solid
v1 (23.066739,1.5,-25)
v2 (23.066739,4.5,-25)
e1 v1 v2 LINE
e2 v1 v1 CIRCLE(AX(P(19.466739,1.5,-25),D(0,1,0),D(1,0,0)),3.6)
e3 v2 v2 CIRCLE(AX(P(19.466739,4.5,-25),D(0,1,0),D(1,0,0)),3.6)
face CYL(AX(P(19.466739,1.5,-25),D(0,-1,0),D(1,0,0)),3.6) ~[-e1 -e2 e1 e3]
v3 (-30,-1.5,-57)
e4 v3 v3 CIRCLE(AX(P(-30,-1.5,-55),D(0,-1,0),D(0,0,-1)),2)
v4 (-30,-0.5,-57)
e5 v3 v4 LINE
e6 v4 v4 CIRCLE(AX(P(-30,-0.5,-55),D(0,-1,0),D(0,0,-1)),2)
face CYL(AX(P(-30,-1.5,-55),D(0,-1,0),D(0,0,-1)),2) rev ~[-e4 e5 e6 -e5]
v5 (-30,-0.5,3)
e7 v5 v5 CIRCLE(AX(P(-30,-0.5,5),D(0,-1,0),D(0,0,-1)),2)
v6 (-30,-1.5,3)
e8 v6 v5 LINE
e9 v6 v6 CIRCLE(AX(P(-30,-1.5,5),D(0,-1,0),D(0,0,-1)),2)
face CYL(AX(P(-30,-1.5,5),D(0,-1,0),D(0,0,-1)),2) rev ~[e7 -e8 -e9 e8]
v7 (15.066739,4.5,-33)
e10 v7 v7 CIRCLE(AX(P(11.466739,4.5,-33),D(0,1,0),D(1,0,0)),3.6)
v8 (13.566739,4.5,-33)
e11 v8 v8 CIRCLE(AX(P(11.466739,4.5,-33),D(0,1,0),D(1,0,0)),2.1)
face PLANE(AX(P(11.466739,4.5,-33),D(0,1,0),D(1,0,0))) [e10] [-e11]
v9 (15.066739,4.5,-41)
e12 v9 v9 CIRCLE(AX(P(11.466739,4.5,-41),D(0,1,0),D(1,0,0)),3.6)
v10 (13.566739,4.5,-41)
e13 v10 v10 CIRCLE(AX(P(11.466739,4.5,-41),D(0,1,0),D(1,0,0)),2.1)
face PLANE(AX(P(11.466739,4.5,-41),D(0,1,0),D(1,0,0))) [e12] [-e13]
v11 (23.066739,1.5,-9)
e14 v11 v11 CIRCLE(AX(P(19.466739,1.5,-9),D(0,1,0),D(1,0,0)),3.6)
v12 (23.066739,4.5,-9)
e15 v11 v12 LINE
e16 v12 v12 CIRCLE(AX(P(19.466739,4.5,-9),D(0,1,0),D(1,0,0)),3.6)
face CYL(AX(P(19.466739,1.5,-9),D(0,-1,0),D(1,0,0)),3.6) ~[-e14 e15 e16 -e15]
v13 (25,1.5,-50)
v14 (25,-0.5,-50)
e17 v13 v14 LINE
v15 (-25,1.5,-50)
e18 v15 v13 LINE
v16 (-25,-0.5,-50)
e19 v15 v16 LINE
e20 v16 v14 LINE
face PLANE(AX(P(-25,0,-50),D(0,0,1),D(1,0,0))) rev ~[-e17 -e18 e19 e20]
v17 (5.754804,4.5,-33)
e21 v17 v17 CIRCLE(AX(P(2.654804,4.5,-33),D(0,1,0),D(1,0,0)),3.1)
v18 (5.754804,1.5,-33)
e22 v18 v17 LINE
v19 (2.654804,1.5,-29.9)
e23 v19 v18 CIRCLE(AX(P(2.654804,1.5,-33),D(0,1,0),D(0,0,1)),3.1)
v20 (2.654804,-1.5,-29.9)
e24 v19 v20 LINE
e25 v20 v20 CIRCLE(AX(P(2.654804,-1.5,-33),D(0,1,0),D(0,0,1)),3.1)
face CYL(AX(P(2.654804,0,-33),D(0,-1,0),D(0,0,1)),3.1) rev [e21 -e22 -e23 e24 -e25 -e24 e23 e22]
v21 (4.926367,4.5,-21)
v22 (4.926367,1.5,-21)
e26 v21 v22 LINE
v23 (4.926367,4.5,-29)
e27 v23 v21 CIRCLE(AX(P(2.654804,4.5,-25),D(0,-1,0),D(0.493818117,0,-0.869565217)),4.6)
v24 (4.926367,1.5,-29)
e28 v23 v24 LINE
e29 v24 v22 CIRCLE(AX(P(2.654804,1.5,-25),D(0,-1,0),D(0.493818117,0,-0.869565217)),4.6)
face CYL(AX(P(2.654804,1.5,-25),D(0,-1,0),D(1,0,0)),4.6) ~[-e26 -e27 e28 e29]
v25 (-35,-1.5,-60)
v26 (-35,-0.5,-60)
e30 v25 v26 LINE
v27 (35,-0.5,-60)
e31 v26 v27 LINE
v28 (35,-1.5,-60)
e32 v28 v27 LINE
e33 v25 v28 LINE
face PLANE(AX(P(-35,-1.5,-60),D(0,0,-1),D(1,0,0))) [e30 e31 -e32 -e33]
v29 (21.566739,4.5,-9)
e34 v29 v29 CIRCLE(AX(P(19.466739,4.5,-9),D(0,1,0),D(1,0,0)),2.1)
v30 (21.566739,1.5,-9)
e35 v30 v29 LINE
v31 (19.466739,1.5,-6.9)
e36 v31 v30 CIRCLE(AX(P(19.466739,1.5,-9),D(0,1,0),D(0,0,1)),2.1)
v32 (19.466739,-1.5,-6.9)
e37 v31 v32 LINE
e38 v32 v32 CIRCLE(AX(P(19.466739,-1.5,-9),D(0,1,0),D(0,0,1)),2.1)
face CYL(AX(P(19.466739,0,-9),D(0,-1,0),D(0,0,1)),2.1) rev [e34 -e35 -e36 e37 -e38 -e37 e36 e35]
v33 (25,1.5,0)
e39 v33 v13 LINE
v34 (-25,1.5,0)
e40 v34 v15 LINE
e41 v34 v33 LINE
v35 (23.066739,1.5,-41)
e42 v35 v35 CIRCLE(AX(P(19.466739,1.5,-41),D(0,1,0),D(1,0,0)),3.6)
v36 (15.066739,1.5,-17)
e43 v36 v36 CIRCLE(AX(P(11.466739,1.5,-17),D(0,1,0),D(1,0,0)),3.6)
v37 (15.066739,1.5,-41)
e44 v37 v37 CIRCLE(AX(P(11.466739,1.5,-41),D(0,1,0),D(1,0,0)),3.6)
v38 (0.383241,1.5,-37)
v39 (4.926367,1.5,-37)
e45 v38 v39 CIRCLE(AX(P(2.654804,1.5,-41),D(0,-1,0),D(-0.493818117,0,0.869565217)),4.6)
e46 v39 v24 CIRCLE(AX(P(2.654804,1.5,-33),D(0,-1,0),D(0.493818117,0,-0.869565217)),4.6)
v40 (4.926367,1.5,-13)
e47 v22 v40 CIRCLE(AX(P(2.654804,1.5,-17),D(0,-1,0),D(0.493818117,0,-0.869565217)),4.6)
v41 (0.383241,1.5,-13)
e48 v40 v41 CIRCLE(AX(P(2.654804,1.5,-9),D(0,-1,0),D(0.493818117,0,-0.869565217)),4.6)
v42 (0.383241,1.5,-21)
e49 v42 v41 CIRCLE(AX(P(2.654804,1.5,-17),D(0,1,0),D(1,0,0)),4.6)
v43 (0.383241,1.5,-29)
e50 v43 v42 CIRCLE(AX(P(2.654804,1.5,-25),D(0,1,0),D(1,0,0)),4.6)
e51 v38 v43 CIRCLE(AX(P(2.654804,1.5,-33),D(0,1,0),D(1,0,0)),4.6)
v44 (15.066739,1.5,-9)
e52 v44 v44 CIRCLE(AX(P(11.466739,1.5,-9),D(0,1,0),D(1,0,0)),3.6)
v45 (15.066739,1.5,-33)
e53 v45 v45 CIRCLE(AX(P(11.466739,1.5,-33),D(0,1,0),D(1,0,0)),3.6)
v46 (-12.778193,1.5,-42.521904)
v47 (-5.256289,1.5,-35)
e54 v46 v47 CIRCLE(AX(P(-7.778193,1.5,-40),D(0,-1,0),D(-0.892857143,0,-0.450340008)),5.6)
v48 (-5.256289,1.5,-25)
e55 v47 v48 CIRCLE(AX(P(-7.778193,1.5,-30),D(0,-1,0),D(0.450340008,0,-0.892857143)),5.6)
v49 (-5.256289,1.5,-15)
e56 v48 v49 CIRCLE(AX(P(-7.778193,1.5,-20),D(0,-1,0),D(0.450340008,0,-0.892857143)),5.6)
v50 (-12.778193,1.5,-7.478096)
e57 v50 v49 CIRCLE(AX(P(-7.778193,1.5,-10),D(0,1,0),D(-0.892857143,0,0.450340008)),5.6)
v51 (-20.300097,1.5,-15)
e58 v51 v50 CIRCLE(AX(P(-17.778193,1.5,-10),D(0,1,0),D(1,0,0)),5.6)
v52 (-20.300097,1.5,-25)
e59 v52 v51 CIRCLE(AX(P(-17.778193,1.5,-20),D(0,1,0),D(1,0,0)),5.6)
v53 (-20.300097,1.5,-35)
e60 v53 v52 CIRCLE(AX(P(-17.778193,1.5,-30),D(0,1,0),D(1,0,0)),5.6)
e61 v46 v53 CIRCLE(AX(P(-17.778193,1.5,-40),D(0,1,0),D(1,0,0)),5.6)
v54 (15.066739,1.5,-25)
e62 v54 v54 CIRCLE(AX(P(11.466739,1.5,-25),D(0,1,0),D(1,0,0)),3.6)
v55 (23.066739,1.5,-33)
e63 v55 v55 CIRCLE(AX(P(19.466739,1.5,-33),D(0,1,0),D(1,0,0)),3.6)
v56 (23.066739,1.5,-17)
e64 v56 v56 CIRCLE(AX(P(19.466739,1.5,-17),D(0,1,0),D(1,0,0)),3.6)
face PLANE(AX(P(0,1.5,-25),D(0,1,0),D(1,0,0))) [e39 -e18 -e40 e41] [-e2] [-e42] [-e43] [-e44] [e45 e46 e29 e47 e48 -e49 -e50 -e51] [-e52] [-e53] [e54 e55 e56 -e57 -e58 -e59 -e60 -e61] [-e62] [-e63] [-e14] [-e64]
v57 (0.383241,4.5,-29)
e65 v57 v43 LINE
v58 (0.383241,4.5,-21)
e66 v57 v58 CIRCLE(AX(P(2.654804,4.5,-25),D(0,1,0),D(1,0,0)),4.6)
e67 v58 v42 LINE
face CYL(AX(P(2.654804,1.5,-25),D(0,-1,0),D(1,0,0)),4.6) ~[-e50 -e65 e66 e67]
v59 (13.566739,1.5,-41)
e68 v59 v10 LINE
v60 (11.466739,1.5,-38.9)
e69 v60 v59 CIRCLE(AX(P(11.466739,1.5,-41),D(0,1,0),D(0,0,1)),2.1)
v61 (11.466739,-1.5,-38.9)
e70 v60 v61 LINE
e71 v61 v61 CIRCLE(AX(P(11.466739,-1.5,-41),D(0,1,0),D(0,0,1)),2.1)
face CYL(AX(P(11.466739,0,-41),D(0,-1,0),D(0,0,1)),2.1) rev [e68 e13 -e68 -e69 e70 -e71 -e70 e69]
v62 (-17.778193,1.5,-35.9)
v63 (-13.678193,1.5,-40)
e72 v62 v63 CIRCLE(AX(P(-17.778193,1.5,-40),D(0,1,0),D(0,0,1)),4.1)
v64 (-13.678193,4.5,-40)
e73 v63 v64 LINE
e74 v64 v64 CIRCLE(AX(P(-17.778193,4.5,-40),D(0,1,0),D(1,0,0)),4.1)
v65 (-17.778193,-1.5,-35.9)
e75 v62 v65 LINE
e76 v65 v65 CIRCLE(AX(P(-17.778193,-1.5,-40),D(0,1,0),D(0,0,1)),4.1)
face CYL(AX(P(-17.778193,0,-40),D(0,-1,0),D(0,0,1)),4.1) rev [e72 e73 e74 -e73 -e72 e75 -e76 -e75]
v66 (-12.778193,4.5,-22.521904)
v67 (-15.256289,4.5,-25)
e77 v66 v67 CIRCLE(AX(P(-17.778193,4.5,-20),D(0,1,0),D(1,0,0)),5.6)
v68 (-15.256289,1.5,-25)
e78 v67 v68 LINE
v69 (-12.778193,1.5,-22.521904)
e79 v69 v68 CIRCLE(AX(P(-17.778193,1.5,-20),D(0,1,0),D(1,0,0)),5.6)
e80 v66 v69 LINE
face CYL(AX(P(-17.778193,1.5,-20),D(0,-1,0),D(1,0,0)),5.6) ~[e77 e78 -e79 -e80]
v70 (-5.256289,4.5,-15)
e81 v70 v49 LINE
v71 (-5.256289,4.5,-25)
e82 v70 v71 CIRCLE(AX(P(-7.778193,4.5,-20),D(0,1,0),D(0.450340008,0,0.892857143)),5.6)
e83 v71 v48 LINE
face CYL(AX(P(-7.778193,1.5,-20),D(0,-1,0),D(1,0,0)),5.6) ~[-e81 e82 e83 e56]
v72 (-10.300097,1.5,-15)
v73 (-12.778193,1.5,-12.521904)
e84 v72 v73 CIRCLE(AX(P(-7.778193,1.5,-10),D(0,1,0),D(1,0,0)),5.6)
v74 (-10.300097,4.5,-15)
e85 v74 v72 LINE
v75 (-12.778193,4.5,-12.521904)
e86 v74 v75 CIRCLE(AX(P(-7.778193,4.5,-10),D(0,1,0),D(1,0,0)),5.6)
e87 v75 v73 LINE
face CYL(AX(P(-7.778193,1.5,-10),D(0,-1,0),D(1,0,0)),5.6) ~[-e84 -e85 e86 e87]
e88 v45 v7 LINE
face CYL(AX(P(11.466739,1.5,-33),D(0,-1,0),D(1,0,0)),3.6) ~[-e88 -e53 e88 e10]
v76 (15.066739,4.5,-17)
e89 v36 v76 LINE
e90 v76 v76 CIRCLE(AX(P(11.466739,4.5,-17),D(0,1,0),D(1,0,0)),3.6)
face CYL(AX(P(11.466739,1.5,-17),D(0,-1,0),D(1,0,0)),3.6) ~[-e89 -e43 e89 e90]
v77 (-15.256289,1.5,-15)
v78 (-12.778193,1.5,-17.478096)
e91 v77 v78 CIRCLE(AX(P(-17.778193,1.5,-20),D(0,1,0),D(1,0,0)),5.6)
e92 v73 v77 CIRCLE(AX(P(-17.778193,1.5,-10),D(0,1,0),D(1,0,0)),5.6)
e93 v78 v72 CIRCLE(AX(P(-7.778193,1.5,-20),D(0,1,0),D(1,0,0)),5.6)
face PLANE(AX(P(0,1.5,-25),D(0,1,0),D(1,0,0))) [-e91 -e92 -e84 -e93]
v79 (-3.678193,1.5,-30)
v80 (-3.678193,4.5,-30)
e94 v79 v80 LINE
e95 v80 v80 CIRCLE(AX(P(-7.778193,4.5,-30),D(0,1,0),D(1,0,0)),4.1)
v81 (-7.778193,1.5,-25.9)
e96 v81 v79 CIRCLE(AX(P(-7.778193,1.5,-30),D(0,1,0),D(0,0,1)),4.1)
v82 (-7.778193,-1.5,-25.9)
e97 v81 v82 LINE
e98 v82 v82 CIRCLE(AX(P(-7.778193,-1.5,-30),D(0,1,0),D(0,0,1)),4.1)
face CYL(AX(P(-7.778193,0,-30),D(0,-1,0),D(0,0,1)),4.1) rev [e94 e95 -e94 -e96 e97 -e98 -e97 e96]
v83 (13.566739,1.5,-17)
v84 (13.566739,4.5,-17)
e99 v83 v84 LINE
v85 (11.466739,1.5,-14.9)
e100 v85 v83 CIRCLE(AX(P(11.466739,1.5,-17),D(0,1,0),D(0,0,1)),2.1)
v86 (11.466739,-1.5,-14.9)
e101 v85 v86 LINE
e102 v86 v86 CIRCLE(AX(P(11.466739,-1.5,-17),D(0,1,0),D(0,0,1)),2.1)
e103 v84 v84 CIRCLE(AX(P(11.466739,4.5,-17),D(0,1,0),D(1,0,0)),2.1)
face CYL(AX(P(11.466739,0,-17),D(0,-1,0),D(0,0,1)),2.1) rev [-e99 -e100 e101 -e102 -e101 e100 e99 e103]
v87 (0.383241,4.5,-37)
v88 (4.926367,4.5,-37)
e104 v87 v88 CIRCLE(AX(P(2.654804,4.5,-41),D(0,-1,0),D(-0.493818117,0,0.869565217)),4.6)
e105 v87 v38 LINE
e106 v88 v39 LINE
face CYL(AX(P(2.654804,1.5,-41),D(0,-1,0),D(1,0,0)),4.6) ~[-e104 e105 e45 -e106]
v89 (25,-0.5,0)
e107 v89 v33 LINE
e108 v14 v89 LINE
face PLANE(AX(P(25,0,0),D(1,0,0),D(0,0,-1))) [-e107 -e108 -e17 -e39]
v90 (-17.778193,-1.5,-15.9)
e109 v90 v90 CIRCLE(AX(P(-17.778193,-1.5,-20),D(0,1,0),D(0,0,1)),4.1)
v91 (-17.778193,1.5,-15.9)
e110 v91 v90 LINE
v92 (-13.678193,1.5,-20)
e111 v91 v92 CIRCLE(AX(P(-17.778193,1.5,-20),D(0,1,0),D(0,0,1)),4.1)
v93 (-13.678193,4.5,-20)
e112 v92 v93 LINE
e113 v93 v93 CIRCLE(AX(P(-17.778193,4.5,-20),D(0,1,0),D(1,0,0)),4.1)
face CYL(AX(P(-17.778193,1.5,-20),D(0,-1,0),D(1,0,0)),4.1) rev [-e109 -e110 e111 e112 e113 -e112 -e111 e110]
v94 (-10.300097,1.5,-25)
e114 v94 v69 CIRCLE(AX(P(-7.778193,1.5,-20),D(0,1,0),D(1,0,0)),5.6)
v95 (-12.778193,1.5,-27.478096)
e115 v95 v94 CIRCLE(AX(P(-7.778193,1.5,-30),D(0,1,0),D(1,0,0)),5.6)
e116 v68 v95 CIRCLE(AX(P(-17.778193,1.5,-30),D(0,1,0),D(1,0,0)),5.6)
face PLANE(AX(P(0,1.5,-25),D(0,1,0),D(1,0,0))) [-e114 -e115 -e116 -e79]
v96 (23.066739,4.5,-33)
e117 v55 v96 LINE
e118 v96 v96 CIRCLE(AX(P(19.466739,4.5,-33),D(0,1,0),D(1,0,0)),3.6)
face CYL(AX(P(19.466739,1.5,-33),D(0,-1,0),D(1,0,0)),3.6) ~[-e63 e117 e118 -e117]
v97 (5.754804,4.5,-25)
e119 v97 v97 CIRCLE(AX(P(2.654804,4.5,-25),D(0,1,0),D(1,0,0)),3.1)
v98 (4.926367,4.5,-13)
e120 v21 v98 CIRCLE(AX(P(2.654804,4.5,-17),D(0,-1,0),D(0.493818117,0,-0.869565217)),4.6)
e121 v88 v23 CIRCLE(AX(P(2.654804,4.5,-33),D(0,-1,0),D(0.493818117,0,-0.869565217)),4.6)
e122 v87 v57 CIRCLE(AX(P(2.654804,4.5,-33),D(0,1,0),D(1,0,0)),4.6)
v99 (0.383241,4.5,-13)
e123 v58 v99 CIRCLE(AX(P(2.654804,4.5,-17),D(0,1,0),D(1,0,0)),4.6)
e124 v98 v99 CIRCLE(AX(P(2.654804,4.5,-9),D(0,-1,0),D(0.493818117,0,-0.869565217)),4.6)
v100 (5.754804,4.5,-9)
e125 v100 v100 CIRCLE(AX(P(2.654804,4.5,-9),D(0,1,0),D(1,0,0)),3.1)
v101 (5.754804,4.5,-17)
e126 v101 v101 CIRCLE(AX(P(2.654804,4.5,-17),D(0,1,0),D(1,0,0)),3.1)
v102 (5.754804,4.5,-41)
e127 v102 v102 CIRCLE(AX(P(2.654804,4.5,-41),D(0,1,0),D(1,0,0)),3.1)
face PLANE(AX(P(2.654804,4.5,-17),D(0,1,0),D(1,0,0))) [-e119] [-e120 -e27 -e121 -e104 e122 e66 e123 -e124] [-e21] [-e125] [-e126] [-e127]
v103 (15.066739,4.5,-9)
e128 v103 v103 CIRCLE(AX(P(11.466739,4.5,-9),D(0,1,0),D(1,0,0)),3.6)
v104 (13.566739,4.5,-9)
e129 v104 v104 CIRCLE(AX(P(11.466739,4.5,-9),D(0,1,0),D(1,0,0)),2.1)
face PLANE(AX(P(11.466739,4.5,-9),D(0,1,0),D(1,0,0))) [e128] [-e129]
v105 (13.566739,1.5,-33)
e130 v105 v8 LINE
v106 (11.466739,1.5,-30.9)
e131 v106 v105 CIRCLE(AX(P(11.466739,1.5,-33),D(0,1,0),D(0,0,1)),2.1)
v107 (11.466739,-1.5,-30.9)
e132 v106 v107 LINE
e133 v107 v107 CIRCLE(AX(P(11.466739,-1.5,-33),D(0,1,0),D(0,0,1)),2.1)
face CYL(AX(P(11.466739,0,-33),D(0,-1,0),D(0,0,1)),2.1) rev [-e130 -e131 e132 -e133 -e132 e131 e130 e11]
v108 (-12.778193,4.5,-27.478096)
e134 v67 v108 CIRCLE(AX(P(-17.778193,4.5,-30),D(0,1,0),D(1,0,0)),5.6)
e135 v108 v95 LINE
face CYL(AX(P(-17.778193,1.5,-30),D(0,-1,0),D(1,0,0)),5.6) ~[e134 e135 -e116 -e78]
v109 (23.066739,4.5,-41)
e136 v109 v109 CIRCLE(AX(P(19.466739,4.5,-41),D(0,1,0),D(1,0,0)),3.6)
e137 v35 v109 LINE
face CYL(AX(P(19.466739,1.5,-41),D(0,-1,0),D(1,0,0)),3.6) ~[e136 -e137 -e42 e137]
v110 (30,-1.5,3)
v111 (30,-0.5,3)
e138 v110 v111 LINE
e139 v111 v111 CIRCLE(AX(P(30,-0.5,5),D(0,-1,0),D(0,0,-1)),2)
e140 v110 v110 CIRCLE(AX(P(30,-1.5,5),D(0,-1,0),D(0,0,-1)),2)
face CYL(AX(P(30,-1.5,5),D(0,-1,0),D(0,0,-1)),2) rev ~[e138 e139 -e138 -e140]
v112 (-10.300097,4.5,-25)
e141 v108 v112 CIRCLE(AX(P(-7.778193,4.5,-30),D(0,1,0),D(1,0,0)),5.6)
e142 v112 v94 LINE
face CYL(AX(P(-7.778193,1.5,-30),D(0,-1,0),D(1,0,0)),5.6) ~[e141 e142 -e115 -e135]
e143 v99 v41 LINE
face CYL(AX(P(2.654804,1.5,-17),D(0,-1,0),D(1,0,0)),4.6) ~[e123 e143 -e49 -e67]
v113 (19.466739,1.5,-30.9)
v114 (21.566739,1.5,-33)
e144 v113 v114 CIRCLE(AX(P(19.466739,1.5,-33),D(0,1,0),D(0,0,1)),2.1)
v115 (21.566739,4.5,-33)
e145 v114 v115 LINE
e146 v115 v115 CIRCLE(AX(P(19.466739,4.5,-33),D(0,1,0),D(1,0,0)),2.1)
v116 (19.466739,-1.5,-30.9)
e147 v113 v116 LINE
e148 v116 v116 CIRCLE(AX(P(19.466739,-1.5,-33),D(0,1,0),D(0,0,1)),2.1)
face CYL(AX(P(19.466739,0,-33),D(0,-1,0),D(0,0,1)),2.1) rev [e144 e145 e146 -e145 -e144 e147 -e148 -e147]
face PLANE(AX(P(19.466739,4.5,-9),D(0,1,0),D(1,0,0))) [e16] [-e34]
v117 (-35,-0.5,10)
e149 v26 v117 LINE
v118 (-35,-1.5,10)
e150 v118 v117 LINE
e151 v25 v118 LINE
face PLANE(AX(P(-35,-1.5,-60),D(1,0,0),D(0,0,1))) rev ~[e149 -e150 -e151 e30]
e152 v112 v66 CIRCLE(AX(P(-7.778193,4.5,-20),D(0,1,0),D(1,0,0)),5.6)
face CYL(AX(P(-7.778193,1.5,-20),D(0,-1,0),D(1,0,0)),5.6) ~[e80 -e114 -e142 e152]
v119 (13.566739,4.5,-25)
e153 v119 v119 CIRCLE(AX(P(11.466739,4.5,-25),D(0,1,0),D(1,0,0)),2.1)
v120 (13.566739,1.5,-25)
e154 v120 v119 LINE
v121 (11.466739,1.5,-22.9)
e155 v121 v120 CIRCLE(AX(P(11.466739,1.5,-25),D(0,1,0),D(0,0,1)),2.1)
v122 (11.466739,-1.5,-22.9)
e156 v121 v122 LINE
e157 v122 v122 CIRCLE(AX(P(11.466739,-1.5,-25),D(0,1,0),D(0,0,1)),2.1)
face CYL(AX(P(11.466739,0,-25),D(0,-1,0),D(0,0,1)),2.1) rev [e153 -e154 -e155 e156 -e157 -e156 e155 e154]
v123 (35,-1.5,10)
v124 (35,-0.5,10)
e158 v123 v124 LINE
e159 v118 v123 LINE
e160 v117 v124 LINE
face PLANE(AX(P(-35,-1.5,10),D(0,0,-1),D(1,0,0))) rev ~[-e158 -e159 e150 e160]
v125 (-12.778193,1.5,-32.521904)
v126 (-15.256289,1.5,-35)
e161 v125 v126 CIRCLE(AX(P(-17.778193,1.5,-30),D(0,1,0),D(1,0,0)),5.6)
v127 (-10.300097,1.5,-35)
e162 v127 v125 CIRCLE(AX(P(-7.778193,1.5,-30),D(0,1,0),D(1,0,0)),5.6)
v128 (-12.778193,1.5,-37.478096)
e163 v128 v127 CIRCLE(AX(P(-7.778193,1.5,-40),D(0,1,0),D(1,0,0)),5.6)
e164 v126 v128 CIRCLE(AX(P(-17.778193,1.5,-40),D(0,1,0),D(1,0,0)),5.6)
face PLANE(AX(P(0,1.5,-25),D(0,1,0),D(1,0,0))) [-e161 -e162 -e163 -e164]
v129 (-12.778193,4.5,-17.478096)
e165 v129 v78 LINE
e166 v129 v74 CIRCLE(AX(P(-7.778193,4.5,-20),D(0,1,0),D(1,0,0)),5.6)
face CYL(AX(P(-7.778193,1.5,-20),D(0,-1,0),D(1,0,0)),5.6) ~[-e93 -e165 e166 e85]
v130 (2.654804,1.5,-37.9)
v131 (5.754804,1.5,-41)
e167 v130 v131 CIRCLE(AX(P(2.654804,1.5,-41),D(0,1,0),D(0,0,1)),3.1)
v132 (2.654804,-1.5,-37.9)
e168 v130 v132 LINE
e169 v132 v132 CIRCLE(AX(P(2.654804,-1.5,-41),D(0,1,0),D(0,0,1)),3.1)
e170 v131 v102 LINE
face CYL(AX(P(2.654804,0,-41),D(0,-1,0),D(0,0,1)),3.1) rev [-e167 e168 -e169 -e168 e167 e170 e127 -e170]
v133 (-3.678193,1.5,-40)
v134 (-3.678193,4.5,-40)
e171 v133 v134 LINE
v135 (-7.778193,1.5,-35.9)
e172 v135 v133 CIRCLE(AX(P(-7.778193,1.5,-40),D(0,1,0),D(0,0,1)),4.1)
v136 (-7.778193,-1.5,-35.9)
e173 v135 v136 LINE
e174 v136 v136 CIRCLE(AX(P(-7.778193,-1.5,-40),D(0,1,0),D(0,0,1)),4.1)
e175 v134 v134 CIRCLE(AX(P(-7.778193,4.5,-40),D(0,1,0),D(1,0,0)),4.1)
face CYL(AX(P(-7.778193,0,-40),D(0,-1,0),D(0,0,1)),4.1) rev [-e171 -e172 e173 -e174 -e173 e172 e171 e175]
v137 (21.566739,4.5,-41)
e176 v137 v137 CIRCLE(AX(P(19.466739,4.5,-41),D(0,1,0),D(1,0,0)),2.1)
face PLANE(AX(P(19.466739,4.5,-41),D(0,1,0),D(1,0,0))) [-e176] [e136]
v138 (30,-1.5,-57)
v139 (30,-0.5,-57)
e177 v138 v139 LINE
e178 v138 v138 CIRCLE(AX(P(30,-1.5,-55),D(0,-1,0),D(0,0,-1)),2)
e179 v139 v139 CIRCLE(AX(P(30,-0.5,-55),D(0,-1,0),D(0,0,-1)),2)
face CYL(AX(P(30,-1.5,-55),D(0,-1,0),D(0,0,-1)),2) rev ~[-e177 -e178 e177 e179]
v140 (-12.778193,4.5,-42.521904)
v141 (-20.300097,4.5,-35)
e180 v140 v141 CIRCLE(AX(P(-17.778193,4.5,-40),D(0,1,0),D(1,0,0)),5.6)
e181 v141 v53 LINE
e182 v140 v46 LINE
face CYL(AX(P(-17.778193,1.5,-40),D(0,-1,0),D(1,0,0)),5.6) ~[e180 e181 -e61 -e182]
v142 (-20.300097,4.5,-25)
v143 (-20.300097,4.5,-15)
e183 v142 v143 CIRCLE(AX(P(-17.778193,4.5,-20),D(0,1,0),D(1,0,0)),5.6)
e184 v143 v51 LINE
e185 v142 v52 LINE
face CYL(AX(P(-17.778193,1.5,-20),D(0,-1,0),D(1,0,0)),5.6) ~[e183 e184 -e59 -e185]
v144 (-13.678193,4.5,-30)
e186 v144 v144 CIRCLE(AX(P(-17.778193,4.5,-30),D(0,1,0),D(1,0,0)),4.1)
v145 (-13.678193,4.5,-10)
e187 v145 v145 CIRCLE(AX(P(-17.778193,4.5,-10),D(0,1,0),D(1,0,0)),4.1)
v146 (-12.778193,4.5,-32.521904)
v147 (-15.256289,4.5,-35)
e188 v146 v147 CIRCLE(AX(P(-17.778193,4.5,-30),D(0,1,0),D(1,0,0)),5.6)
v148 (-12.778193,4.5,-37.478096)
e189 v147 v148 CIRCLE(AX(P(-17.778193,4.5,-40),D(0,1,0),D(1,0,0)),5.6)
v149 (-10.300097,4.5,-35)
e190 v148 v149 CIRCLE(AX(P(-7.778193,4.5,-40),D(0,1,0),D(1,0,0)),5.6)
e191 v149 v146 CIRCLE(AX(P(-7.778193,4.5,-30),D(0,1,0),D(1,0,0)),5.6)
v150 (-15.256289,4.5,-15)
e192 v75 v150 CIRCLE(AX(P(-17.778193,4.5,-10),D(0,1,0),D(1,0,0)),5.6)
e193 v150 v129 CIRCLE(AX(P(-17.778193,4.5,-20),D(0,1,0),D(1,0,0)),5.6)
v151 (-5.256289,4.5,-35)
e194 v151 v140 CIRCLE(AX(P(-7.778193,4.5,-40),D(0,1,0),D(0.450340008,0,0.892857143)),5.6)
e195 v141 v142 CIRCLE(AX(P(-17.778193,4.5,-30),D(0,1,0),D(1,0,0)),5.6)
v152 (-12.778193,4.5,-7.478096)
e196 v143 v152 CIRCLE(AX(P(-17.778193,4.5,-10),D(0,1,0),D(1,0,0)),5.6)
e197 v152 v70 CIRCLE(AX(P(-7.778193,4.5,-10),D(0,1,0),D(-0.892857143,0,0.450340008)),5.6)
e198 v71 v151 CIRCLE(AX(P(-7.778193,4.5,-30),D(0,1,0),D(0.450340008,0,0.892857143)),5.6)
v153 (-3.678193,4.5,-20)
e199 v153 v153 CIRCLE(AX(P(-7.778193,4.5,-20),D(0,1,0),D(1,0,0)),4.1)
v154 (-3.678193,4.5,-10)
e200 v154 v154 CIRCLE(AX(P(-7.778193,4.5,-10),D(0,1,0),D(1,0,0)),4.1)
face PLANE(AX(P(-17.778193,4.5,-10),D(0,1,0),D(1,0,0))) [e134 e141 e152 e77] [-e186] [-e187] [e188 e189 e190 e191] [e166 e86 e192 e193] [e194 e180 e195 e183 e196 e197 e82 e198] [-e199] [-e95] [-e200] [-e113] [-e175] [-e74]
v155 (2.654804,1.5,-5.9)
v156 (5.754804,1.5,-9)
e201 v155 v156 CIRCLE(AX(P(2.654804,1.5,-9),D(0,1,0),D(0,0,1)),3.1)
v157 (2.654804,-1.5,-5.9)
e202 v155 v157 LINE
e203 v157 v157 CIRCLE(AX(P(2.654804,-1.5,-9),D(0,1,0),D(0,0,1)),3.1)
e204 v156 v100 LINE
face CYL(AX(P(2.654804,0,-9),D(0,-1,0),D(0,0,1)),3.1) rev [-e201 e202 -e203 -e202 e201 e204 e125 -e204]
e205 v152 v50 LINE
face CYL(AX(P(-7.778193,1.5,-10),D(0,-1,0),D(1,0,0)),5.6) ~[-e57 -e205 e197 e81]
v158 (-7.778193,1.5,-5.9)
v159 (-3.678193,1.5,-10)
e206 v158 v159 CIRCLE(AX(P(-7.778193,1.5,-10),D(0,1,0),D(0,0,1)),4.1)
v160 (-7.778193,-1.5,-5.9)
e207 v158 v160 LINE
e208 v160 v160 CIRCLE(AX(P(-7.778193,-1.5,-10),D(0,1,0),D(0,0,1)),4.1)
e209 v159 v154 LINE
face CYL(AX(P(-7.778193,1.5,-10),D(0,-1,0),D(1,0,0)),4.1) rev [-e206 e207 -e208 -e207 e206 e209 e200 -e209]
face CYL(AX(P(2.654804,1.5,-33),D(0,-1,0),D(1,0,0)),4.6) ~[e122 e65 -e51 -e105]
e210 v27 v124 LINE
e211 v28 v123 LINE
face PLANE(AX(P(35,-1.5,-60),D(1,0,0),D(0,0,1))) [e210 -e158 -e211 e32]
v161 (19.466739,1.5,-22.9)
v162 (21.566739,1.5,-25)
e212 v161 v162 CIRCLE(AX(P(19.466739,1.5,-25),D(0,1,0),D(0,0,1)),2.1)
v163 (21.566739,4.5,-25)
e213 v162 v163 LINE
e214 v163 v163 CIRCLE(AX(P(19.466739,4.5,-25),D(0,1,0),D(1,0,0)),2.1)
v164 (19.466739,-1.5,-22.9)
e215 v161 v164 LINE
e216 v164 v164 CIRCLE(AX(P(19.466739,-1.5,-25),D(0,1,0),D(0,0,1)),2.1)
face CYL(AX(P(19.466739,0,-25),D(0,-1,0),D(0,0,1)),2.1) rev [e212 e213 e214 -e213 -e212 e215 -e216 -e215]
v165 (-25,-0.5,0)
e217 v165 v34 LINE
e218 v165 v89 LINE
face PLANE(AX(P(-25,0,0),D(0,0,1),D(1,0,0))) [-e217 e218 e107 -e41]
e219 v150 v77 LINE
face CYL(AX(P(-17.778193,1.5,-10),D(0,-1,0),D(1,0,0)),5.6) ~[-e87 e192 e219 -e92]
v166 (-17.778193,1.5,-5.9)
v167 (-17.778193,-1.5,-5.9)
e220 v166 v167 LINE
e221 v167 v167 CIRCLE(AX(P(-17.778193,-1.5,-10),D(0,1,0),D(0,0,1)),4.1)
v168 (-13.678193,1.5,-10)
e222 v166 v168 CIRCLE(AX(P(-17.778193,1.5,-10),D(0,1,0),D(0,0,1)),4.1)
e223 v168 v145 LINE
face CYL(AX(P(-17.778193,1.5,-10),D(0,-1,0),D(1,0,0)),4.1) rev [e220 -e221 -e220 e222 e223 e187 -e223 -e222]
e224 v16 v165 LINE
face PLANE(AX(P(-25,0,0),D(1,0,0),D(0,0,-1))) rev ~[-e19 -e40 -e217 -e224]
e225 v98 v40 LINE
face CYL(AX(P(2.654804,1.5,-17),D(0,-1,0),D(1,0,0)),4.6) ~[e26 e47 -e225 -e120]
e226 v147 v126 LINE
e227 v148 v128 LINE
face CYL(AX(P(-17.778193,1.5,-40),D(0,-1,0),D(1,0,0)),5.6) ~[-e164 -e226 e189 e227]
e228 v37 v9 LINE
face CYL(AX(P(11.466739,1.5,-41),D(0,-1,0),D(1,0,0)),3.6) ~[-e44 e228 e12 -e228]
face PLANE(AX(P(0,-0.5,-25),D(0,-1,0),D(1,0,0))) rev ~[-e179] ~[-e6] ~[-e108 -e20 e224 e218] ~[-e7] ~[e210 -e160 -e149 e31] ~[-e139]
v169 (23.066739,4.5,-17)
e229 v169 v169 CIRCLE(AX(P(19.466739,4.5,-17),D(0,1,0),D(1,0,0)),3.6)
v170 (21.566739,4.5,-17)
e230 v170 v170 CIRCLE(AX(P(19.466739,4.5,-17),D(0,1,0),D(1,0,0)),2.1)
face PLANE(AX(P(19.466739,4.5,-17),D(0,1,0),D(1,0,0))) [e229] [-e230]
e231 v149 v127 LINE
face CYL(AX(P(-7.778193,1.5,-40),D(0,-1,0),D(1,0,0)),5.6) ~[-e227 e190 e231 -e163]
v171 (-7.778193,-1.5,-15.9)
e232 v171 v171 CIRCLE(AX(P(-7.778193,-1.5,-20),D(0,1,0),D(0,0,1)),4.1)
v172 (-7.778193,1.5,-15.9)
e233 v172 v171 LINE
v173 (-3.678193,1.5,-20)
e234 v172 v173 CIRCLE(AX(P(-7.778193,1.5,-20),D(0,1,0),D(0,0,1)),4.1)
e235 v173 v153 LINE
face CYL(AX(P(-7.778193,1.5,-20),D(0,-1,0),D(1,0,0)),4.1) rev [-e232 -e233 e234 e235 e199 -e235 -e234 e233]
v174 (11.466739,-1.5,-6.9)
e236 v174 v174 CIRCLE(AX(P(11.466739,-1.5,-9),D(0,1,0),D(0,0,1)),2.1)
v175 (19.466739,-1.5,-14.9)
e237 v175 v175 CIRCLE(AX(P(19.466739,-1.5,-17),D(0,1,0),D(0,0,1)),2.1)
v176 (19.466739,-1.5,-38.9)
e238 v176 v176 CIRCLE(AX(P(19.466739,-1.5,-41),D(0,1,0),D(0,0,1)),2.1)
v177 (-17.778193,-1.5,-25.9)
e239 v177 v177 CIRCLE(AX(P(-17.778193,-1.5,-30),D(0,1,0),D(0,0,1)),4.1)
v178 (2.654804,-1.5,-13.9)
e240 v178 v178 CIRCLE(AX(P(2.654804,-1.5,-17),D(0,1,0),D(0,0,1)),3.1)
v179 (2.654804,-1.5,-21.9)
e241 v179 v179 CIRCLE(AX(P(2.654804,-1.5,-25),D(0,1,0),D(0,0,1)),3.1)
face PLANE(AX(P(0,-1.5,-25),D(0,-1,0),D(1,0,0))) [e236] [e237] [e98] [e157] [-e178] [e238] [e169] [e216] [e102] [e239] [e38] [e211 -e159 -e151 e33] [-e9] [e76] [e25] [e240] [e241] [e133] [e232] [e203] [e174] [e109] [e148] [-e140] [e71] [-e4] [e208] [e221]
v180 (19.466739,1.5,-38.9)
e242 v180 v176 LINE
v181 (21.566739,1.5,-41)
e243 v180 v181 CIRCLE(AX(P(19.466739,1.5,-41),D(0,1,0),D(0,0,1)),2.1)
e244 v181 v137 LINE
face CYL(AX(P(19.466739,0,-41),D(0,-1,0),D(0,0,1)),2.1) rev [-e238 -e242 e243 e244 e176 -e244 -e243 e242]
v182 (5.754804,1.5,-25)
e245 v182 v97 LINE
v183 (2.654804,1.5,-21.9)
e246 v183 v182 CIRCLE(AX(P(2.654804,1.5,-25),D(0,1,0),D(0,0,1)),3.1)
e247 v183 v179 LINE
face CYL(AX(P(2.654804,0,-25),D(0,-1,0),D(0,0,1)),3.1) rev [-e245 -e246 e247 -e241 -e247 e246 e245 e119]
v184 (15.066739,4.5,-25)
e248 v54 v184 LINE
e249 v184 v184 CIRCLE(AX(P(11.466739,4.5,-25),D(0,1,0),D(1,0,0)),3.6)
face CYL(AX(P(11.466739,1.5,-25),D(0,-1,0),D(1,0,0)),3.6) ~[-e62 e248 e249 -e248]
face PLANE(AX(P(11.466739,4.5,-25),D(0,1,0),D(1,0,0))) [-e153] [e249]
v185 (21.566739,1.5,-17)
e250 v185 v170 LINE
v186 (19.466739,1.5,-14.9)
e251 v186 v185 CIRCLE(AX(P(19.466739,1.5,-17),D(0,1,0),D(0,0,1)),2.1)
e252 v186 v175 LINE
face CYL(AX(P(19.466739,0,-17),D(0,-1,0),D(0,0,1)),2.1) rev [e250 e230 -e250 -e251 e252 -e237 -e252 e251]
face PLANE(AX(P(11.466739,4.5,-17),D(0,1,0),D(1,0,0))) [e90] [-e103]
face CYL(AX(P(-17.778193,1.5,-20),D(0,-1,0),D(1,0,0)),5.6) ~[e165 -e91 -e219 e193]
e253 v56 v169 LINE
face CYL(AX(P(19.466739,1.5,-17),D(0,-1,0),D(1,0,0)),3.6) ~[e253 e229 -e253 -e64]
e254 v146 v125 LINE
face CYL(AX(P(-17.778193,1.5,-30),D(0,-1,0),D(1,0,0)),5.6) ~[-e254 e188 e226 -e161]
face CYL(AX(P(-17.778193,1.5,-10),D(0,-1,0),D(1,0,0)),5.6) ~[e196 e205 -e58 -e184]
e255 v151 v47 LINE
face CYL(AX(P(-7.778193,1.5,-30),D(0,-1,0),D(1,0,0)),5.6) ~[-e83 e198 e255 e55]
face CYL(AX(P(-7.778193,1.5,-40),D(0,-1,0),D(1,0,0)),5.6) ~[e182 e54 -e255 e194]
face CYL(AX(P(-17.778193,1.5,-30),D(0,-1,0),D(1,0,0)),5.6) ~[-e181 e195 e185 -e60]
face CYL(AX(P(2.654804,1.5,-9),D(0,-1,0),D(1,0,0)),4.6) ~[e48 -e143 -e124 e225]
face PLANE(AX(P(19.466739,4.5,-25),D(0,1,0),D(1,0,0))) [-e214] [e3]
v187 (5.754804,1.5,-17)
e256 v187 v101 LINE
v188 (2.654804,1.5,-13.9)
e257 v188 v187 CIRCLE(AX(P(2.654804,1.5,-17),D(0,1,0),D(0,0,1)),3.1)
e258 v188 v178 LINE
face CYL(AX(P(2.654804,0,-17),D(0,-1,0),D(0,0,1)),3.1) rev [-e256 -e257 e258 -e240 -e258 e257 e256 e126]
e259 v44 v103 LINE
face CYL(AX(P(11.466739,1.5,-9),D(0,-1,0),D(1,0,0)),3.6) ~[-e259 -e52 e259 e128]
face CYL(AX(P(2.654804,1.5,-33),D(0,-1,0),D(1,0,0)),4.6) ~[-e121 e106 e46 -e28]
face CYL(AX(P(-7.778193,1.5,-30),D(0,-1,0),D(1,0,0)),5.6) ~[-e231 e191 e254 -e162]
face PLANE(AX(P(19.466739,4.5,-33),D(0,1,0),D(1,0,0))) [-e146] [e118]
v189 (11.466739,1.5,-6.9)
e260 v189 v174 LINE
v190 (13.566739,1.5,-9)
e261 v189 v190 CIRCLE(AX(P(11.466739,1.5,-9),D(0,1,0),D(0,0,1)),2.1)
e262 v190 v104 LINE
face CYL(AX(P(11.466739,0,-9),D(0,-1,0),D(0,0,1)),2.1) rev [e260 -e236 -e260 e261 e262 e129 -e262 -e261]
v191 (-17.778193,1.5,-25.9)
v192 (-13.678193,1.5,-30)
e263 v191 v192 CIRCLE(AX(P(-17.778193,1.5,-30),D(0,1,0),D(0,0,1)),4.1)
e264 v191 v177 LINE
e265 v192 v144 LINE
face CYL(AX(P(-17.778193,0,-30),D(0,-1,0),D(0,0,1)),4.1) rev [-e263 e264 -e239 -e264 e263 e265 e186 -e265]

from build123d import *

# Parameters (mm, degrees)
SKETCH1_W           = 50
SKETCH1_H           = 50
SKETCH1_R           = 4.1
SKETCH1_R_2         = 3.1
SKETCH1_R_3         = 2.1
BOSS_EXTRUDE1_DEPTH = 1.5
SKETCH2_R           = 5.6
SKETCH2_R_2         = 4.1
SKETCH2_R_3         = 4.6
SKETCH2_R_4         = 3.1
SKETCH2_R_5         = 3.6
SKETCH2_R_6         = 2.1
EXTRUDE_THIN1_DEPTH = 3
SKETCH3_W           = 70
SKETCH3_H           = 70
SKETCH3_R           = 2
SKETCH3_W_2         = 50
SKETCH3_H_2         = 50
BOSS_EXTRUDE2_DEPTH = 1


with BuildPart() as part:
    # Sketch1 → Boss-Extrude1 (new, symmetric)
    with BuildSketch(Plane(origin=(0, 0, 0), x_dir=(1, 0, 0), z_dir=(0, 1, 0))):
        with Locations((0, 25)):
            Rectangle(SKETCH1_W, SKETCH1_H)
        with Locations(Location((-17.77819266, 10, 0), (0, 0, 270))):
            Circle(SKETCH1_R, mode=Mode.SUBTRACT)
        with Locations(Location((-17.77819266, 20, 0), (0, 0, 270))):
            Circle(SKETCH1_R, mode=Mode.SUBTRACT)
        with Locations(Location((-17.77819266, 30, 0), (0, 0, 270))):
            Circle(SKETCH1_R, mode=Mode.SUBTRACT)
        with Locations(Location((-17.77819266, 40, 0), (0, 0, 270))):
            Circle(SKETCH1_R, mode=Mode.SUBTRACT)
        with Locations(Location((2.654804044, 9, 0), (0, 0, 270))):
            Circle(SKETCH1_R_2, mode=Mode.SUBTRACT)
        with Locations(Location((2.654804044, 17, 0), (0, 0, 270))):
            Circle(SKETCH1_R_2, mode=Mode.SUBTRACT)
        with Locations(Location((2.654804044, 25, 0), (0, 0, 270))):
            Circle(SKETCH1_R_2, mode=Mode.SUBTRACT)
        with Locations(Location((2.654804044, 33, 0), (0, 0, 270))):
            Circle(SKETCH1_R_2, mode=Mode.SUBTRACT)
        with Locations(Location((2.654804044, 41, 0), (0, 0, 270))):
            Circle(SKETCH1_R_2, mode=Mode.SUBTRACT)
        with Locations(Location((11.466739275, 9, 0), (0, 0, 270))):
            Circle(SKETCH1_R_3, mode=Mode.SUBTRACT)
        with Locations(Location((19.466739275, 9, 0), (0, 0, 270))):
            Circle(SKETCH1_R_3, mode=Mode.SUBTRACT)
        with Locations(Location((19.466739275, 17, 0), (0, 0, 270))):
            Circle(SKETCH1_R_3, mode=Mode.SUBTRACT)
        with Locations(Location((19.466739275, 25, 0), (0, 0, 270))):
            Circle(SKETCH1_R_3, mode=Mode.SUBTRACT)
        with Locations(Location((19.466739275, 33, 0), (0, 0, 270))):
            Circle(SKETCH1_R_3, mode=Mode.SUBTRACT)
        with Locations(Location((19.466739275, 41, 0), (0, 0, 270))):
            Circle(SKETCH1_R_3, mode=Mode.SUBTRACT)
        with Locations(Location((11.466739275, 17, 0), (0, 0, 270))):
            Circle(SKETCH1_R_3, mode=Mode.SUBTRACT)
        with Locations(Location((11.466739275, 25, 0), (0, 0, 270))):
            Circle(SKETCH1_R_3, mode=Mode.SUBTRACT)
        with Locations(Location((11.466739275, 33, 0), (0, 0, 270))):
            Circle(SKETCH1_R_3, mode=Mode.SUBTRACT)
        with Locations(Location((11.466739275, 41, 0), (0, 0, 270))):
            Circle(SKETCH1_R_3, mode=Mode.SUBTRACT)
        with Locations(Location((-7.77819266, 10, 0), (0, 0, 270))):
            Circle(SKETCH1_R, mode=Mode.SUBTRACT)
        with Locations(Location((-7.77819266, 20, 0), (0, 0, 270))):
            Circle(SKETCH1_R, mode=Mode.SUBTRACT)
        with Locations(Location((-7.77819266, 30, 0), (0, 0, 270))):
            Circle(SKETCH1_R, mode=Mode.SUBTRACT)
        with Locations(Location((-7.77819266, 40, 0), (0, 0, 270))):
            Circle(SKETCH1_R, mode=Mode.SUBTRACT)
    extrude(amount=BOSS_EXTRUDE1_DEPTH, both=True)

    # Sketch2 → Extrude-Thin1 (add)
    # profile 1 of 23: a face of its own
    with BuildSketch(Plane(origin=(0, 1.5, 0), x_dir=(1, 0, 0), z_dir=(0, 1, 0))):
        with Locations((-17.77819266, 10)):
            Circle(SKETCH2_R)
        with Locations((-17.77819266, 10)):
            Circle(SKETCH2_R_2, mode=Mode.SUBTRACT)
    # profile 2 of 23: a face of its own
    with BuildSketch(Plane(origin=(0, 1.5, 0), x_dir=(1, 0, 0), z_dir=(0, 1, 0))):
        with Locations((-17.77819266, 20)):
            Circle(SKETCH2_R)
        with Locations((-17.77819266, 20)):
            Circle(SKETCH2_R_2, mode=Mode.SUBTRACT)
    # profile 3 of 23: a face of its own
    with BuildSketch(Plane(origin=(0, 1.5, 0), x_dir=(1, 0, 0), z_dir=(0, 1, 0))):
        with Locations((-17.77819266, 30)):
            Circle(SKETCH2_R)
        with Locations((-17.77819266, 30)):
            Circle(SKETCH2_R_2, mode=Mode.SUBTRACT)
    # profile 4 of 23: a face of its own
    with BuildSketch(Plane(origin=(0, 1.5, 0), x_dir=(1, 0, 0), z_dir=(0, 1, 0))):
        with Locations((2.654804044, 17)):
            Circle(SKETCH2_R_3)
        with Locations((2.654804044, 17)):
            Circle(SKETCH2_R_4, mode=Mode.SUBTRACT)
    # profile 5 of 23: a face of its own
    with BuildSketch(Plane(origin=(0, 1.5, 0), x_dir=(1, 0, 0), z_dir=(0, 1, 0))):
        with Locations((-17.77819266, 40)):
            Circle(SKETCH2_R)
        with Locations((-17.77819266, 40)):
            Circle(SKETCH2_R_2, mode=Mode.SUBTRACT)
    # profile 6 of 23: a face of its own
    with BuildSketch(Plane(origin=(0, 1.5, 0), x_dir=(1, 0, 0), z_dir=(0, 1, 0))):
        with Locations((2.654804044, 9)):
            Circle(SKETCH2_R_3)
        with Locations((2.654804044, 9)):
            Circle(SKETCH2_R_4, mode=Mode.SUBTRACT)
    # profile 7 of 23: a face of its own
    with BuildSketch(Plane(origin=(0, 1.5, 0), x_dir=(1, 0, 0), z_dir=(0, 1, 0))):
        with Locations((2.654804044, 25)):
            Circle(SKETCH2_R_3)
        with Locations((2.654804044, 25)):
            Circle(SKETCH2_R_4, mode=Mode.SUBTRACT)
    # profile 8 of 23: a face of its own
    with BuildSketch(Plane(origin=(0, 1.5, 0), x_dir=(1, 0, 0), z_dir=(0, 1, 0))):
        with Locations((2.654804044, 33)):
            Circle(SKETCH2_R_3)
        with Locations((2.654804044, 33)):
            Circle(SKETCH2_R_4, mode=Mode.SUBTRACT)
    # profile 9 of 23: a face of its own
    with BuildSketch(Plane(origin=(0, 1.5, 0), x_dir=(1, 0, 0), z_dir=(0, 1, 0))):
        with Locations((2.654804044, 41)):
            Circle(SKETCH2_R_3)
        with Locations((2.654804044, 41)):
            Circle(SKETCH2_R_4, mode=Mode.SUBTRACT)
    # profile 10 of 23: a face of its own
    with BuildSketch(Plane(origin=(0, 1.5, 0), x_dir=(1, 0, 0), z_dir=(0, 1, 0))):
        with Locations((11.466739275, 9)):
            Circle(SKETCH2_R_5)
        with Locations((11.466739275, 9)):
            Circle(SKETCH2_R_6, mode=Mode.SUBTRACT)
    # profile 11 of 23: a face of its own
    with BuildSketch(Plane(origin=(0, 1.5, 0), x_dir=(1, 0, 0), z_dir=(0, 1, 0))):
        with Locations((-7.77819266, 10)):
            Circle(SKETCH2_R)
        with Locations((-7.77819266, 10)):
            Circle(SKETCH2_R_2, mode=Mode.SUBTRACT)
    # profile 12 of 23: a face of its own
    with BuildSketch(Plane(origin=(0, 1.5, 0), x_dir=(1, 0, 0), z_dir=(0, 1, 0))):
        with Locations((19.466739275, 9)):
            Circle(SKETCH2_R_5)
        with Locations((19.466739275, 9)):
            Circle(SKETCH2_R_6, mode=Mode.SUBTRACT)
    # profile 13 of 23: a face of its own
    with BuildSketch(Plane(origin=(0, 1.5, 0), x_dir=(1, 0, 0), z_dir=(0, 1, 0))):
        with Locations((19.466739275, 17)):
            Circle(SKETCH2_R_5)
        with Locations((19.466739275, 17)):
            Circle(SKETCH2_R_6, mode=Mode.SUBTRACT)
    # profile 14 of 23: a face of its own
    with BuildSketch(Plane(origin=(0, 1.5, 0), x_dir=(1, 0, 0), z_dir=(0, 1, 0))):
        with Locations((19.466739275, 25)):
            Circle(SKETCH2_R_5)
        with Locations((19.466739275, 25)):
            Circle(SKETCH2_R_6, mode=Mode.SUBTRACT)
    # profile 15 of 23: a face of its own
    with BuildSketch(Plane(origin=(0, 1.5, 0), x_dir=(1, 0, 0), z_dir=(0, 1, 0))):
        with Locations((19.466739275, 33)):
            Circle(SKETCH2_R_5)
        with Locations((19.466739275, 33)):
            Circle(SKETCH2_R_6, mode=Mode.SUBTRACT)
    # profile 16 of 23: a face of its own
    with BuildSketch(Plane(origin=(0, 1.5, 0), x_dir=(1, 0, 0), z_dir=(0, 1, 0))):
        with Locations((19.466739275, 41)):
            Circle(SKETCH2_R_5)
        with Locations((19.466739275, 41)):
            Circle(SKETCH2_R_6, mode=Mode.SUBTRACT)
    # profile 17 of 23: a face of its own
    with BuildSketch(Plane(origin=(0, 1.5, 0), x_dir=(1, 0, 0), z_dir=(0, 1, 0))):
        with Locations((11.466739275, 17)):
            Circle(SKETCH2_R_5)
        with Locations((11.466739275, 17)):
            Circle(SKETCH2_R_6, mode=Mode.SUBTRACT)
    # profile 18 of 23: a face of its own
    with BuildSketch(Plane(origin=(0, 1.5, 0), x_dir=(1, 0, 0), z_dir=(0, 1, 0))):
        with Locations((11.466739275, 25)):
            Circle(SKETCH2_R_5)
        with Locations((11.466739275, 25)):
            Circle(SKETCH2_R_6, mode=Mode.SUBTRACT)
    # profile 19 of 23: a face of its own
    with BuildSketch(Plane(origin=(0, 1.5, 0), x_dir=(1, 0, 0), z_dir=(0, 1, 0))):
        with Locations((11.466739275, 33)):
            Circle(SKETCH2_R_5)
        with Locations((11.466739275, 33)):
            Circle(SKETCH2_R_6, mode=Mode.SUBTRACT)
    # profile 20 of 23: a face of its own
    with BuildSketch(Plane(origin=(0, 1.5, 0), x_dir=(1, 0, 0), z_dir=(0, 1, 0))):
        with Locations((11.466739275, 41)):
            Circle(SKETCH2_R_5)
        with Locations((11.466739275, 41)):
            Circle(SKETCH2_R_6, mode=Mode.SUBTRACT)
    # profile 21 of 23: a face of its own
    with BuildSketch(Plane(origin=(0, 1.5, 0), x_dir=(1, 0, 0), z_dir=(0, 1, 0))):
        with Locations((-7.77819266, 20)):
            Circle(SKETCH2_R)
        with Locations((-7.77819266, 20)):
            Circle(SKETCH2_R_2, mode=Mode.SUBTRACT)
    # profile 22 of 23: a face of its own
    with BuildSketch(Plane(origin=(0, 1.5, 0), x_dir=(1, 0, 0), z_dir=(0, 1, 0))):
        with Locations((-7.77819266, 30)):
            Circle(SKETCH2_R)
        with Locations((-7.77819266, 30)):
            Circle(SKETCH2_R_2, mode=Mode.SUBTRACT)
    # profile 23 of 23: a face of its own
    with BuildSketch(Plane(origin=(0, 1.5, 0), x_dir=(1, 0, 0), z_dir=(0, 1, 0))):
        with Locations((-7.77819266, 40)):
            Circle(SKETCH2_R)
        with Locations((-7.77819266, 40)):
            Circle(SKETCH2_R_2, mode=Mode.SUBTRACT)
    extrude(amount=EXTRUDE_THIN1_DEPTH)

    # Sketch3 → Boss-Extrude2 (add)
    with BuildSketch(Plane.XZ.offset(1.5)):
        with Locations((0, -25)):
            Rectangle(SKETCH3_W, SKETCH3_H)
        with Locations(Location((-30, 5, 0), (0, 0, 270))):
            Circle(SKETCH3_R, mode=Mode.SUBTRACT)
        with Locations(Location((30, 5, 0), (0, 0, 270))):
            Circle(SKETCH3_R, mode=Mode.SUBTRACT)
        with Locations(Location((30, -55, 0), (0, 0, 270))):
            Circle(SKETCH3_R, mode=Mode.SUBTRACT)
        with Locations(Location((-30, -55, 0), (0, 0, 270))):
            Circle(SKETCH3_R, mode=Mode.SUBTRACT)
        with Locations((0, -25)):
            Rectangle(SKETCH3_W_2, SKETCH3_H_2, mode=Mode.SUBTRACT)
    extrude(amount=-BOSS_EXTRUDE2_DEPTH)


solid = part.part
